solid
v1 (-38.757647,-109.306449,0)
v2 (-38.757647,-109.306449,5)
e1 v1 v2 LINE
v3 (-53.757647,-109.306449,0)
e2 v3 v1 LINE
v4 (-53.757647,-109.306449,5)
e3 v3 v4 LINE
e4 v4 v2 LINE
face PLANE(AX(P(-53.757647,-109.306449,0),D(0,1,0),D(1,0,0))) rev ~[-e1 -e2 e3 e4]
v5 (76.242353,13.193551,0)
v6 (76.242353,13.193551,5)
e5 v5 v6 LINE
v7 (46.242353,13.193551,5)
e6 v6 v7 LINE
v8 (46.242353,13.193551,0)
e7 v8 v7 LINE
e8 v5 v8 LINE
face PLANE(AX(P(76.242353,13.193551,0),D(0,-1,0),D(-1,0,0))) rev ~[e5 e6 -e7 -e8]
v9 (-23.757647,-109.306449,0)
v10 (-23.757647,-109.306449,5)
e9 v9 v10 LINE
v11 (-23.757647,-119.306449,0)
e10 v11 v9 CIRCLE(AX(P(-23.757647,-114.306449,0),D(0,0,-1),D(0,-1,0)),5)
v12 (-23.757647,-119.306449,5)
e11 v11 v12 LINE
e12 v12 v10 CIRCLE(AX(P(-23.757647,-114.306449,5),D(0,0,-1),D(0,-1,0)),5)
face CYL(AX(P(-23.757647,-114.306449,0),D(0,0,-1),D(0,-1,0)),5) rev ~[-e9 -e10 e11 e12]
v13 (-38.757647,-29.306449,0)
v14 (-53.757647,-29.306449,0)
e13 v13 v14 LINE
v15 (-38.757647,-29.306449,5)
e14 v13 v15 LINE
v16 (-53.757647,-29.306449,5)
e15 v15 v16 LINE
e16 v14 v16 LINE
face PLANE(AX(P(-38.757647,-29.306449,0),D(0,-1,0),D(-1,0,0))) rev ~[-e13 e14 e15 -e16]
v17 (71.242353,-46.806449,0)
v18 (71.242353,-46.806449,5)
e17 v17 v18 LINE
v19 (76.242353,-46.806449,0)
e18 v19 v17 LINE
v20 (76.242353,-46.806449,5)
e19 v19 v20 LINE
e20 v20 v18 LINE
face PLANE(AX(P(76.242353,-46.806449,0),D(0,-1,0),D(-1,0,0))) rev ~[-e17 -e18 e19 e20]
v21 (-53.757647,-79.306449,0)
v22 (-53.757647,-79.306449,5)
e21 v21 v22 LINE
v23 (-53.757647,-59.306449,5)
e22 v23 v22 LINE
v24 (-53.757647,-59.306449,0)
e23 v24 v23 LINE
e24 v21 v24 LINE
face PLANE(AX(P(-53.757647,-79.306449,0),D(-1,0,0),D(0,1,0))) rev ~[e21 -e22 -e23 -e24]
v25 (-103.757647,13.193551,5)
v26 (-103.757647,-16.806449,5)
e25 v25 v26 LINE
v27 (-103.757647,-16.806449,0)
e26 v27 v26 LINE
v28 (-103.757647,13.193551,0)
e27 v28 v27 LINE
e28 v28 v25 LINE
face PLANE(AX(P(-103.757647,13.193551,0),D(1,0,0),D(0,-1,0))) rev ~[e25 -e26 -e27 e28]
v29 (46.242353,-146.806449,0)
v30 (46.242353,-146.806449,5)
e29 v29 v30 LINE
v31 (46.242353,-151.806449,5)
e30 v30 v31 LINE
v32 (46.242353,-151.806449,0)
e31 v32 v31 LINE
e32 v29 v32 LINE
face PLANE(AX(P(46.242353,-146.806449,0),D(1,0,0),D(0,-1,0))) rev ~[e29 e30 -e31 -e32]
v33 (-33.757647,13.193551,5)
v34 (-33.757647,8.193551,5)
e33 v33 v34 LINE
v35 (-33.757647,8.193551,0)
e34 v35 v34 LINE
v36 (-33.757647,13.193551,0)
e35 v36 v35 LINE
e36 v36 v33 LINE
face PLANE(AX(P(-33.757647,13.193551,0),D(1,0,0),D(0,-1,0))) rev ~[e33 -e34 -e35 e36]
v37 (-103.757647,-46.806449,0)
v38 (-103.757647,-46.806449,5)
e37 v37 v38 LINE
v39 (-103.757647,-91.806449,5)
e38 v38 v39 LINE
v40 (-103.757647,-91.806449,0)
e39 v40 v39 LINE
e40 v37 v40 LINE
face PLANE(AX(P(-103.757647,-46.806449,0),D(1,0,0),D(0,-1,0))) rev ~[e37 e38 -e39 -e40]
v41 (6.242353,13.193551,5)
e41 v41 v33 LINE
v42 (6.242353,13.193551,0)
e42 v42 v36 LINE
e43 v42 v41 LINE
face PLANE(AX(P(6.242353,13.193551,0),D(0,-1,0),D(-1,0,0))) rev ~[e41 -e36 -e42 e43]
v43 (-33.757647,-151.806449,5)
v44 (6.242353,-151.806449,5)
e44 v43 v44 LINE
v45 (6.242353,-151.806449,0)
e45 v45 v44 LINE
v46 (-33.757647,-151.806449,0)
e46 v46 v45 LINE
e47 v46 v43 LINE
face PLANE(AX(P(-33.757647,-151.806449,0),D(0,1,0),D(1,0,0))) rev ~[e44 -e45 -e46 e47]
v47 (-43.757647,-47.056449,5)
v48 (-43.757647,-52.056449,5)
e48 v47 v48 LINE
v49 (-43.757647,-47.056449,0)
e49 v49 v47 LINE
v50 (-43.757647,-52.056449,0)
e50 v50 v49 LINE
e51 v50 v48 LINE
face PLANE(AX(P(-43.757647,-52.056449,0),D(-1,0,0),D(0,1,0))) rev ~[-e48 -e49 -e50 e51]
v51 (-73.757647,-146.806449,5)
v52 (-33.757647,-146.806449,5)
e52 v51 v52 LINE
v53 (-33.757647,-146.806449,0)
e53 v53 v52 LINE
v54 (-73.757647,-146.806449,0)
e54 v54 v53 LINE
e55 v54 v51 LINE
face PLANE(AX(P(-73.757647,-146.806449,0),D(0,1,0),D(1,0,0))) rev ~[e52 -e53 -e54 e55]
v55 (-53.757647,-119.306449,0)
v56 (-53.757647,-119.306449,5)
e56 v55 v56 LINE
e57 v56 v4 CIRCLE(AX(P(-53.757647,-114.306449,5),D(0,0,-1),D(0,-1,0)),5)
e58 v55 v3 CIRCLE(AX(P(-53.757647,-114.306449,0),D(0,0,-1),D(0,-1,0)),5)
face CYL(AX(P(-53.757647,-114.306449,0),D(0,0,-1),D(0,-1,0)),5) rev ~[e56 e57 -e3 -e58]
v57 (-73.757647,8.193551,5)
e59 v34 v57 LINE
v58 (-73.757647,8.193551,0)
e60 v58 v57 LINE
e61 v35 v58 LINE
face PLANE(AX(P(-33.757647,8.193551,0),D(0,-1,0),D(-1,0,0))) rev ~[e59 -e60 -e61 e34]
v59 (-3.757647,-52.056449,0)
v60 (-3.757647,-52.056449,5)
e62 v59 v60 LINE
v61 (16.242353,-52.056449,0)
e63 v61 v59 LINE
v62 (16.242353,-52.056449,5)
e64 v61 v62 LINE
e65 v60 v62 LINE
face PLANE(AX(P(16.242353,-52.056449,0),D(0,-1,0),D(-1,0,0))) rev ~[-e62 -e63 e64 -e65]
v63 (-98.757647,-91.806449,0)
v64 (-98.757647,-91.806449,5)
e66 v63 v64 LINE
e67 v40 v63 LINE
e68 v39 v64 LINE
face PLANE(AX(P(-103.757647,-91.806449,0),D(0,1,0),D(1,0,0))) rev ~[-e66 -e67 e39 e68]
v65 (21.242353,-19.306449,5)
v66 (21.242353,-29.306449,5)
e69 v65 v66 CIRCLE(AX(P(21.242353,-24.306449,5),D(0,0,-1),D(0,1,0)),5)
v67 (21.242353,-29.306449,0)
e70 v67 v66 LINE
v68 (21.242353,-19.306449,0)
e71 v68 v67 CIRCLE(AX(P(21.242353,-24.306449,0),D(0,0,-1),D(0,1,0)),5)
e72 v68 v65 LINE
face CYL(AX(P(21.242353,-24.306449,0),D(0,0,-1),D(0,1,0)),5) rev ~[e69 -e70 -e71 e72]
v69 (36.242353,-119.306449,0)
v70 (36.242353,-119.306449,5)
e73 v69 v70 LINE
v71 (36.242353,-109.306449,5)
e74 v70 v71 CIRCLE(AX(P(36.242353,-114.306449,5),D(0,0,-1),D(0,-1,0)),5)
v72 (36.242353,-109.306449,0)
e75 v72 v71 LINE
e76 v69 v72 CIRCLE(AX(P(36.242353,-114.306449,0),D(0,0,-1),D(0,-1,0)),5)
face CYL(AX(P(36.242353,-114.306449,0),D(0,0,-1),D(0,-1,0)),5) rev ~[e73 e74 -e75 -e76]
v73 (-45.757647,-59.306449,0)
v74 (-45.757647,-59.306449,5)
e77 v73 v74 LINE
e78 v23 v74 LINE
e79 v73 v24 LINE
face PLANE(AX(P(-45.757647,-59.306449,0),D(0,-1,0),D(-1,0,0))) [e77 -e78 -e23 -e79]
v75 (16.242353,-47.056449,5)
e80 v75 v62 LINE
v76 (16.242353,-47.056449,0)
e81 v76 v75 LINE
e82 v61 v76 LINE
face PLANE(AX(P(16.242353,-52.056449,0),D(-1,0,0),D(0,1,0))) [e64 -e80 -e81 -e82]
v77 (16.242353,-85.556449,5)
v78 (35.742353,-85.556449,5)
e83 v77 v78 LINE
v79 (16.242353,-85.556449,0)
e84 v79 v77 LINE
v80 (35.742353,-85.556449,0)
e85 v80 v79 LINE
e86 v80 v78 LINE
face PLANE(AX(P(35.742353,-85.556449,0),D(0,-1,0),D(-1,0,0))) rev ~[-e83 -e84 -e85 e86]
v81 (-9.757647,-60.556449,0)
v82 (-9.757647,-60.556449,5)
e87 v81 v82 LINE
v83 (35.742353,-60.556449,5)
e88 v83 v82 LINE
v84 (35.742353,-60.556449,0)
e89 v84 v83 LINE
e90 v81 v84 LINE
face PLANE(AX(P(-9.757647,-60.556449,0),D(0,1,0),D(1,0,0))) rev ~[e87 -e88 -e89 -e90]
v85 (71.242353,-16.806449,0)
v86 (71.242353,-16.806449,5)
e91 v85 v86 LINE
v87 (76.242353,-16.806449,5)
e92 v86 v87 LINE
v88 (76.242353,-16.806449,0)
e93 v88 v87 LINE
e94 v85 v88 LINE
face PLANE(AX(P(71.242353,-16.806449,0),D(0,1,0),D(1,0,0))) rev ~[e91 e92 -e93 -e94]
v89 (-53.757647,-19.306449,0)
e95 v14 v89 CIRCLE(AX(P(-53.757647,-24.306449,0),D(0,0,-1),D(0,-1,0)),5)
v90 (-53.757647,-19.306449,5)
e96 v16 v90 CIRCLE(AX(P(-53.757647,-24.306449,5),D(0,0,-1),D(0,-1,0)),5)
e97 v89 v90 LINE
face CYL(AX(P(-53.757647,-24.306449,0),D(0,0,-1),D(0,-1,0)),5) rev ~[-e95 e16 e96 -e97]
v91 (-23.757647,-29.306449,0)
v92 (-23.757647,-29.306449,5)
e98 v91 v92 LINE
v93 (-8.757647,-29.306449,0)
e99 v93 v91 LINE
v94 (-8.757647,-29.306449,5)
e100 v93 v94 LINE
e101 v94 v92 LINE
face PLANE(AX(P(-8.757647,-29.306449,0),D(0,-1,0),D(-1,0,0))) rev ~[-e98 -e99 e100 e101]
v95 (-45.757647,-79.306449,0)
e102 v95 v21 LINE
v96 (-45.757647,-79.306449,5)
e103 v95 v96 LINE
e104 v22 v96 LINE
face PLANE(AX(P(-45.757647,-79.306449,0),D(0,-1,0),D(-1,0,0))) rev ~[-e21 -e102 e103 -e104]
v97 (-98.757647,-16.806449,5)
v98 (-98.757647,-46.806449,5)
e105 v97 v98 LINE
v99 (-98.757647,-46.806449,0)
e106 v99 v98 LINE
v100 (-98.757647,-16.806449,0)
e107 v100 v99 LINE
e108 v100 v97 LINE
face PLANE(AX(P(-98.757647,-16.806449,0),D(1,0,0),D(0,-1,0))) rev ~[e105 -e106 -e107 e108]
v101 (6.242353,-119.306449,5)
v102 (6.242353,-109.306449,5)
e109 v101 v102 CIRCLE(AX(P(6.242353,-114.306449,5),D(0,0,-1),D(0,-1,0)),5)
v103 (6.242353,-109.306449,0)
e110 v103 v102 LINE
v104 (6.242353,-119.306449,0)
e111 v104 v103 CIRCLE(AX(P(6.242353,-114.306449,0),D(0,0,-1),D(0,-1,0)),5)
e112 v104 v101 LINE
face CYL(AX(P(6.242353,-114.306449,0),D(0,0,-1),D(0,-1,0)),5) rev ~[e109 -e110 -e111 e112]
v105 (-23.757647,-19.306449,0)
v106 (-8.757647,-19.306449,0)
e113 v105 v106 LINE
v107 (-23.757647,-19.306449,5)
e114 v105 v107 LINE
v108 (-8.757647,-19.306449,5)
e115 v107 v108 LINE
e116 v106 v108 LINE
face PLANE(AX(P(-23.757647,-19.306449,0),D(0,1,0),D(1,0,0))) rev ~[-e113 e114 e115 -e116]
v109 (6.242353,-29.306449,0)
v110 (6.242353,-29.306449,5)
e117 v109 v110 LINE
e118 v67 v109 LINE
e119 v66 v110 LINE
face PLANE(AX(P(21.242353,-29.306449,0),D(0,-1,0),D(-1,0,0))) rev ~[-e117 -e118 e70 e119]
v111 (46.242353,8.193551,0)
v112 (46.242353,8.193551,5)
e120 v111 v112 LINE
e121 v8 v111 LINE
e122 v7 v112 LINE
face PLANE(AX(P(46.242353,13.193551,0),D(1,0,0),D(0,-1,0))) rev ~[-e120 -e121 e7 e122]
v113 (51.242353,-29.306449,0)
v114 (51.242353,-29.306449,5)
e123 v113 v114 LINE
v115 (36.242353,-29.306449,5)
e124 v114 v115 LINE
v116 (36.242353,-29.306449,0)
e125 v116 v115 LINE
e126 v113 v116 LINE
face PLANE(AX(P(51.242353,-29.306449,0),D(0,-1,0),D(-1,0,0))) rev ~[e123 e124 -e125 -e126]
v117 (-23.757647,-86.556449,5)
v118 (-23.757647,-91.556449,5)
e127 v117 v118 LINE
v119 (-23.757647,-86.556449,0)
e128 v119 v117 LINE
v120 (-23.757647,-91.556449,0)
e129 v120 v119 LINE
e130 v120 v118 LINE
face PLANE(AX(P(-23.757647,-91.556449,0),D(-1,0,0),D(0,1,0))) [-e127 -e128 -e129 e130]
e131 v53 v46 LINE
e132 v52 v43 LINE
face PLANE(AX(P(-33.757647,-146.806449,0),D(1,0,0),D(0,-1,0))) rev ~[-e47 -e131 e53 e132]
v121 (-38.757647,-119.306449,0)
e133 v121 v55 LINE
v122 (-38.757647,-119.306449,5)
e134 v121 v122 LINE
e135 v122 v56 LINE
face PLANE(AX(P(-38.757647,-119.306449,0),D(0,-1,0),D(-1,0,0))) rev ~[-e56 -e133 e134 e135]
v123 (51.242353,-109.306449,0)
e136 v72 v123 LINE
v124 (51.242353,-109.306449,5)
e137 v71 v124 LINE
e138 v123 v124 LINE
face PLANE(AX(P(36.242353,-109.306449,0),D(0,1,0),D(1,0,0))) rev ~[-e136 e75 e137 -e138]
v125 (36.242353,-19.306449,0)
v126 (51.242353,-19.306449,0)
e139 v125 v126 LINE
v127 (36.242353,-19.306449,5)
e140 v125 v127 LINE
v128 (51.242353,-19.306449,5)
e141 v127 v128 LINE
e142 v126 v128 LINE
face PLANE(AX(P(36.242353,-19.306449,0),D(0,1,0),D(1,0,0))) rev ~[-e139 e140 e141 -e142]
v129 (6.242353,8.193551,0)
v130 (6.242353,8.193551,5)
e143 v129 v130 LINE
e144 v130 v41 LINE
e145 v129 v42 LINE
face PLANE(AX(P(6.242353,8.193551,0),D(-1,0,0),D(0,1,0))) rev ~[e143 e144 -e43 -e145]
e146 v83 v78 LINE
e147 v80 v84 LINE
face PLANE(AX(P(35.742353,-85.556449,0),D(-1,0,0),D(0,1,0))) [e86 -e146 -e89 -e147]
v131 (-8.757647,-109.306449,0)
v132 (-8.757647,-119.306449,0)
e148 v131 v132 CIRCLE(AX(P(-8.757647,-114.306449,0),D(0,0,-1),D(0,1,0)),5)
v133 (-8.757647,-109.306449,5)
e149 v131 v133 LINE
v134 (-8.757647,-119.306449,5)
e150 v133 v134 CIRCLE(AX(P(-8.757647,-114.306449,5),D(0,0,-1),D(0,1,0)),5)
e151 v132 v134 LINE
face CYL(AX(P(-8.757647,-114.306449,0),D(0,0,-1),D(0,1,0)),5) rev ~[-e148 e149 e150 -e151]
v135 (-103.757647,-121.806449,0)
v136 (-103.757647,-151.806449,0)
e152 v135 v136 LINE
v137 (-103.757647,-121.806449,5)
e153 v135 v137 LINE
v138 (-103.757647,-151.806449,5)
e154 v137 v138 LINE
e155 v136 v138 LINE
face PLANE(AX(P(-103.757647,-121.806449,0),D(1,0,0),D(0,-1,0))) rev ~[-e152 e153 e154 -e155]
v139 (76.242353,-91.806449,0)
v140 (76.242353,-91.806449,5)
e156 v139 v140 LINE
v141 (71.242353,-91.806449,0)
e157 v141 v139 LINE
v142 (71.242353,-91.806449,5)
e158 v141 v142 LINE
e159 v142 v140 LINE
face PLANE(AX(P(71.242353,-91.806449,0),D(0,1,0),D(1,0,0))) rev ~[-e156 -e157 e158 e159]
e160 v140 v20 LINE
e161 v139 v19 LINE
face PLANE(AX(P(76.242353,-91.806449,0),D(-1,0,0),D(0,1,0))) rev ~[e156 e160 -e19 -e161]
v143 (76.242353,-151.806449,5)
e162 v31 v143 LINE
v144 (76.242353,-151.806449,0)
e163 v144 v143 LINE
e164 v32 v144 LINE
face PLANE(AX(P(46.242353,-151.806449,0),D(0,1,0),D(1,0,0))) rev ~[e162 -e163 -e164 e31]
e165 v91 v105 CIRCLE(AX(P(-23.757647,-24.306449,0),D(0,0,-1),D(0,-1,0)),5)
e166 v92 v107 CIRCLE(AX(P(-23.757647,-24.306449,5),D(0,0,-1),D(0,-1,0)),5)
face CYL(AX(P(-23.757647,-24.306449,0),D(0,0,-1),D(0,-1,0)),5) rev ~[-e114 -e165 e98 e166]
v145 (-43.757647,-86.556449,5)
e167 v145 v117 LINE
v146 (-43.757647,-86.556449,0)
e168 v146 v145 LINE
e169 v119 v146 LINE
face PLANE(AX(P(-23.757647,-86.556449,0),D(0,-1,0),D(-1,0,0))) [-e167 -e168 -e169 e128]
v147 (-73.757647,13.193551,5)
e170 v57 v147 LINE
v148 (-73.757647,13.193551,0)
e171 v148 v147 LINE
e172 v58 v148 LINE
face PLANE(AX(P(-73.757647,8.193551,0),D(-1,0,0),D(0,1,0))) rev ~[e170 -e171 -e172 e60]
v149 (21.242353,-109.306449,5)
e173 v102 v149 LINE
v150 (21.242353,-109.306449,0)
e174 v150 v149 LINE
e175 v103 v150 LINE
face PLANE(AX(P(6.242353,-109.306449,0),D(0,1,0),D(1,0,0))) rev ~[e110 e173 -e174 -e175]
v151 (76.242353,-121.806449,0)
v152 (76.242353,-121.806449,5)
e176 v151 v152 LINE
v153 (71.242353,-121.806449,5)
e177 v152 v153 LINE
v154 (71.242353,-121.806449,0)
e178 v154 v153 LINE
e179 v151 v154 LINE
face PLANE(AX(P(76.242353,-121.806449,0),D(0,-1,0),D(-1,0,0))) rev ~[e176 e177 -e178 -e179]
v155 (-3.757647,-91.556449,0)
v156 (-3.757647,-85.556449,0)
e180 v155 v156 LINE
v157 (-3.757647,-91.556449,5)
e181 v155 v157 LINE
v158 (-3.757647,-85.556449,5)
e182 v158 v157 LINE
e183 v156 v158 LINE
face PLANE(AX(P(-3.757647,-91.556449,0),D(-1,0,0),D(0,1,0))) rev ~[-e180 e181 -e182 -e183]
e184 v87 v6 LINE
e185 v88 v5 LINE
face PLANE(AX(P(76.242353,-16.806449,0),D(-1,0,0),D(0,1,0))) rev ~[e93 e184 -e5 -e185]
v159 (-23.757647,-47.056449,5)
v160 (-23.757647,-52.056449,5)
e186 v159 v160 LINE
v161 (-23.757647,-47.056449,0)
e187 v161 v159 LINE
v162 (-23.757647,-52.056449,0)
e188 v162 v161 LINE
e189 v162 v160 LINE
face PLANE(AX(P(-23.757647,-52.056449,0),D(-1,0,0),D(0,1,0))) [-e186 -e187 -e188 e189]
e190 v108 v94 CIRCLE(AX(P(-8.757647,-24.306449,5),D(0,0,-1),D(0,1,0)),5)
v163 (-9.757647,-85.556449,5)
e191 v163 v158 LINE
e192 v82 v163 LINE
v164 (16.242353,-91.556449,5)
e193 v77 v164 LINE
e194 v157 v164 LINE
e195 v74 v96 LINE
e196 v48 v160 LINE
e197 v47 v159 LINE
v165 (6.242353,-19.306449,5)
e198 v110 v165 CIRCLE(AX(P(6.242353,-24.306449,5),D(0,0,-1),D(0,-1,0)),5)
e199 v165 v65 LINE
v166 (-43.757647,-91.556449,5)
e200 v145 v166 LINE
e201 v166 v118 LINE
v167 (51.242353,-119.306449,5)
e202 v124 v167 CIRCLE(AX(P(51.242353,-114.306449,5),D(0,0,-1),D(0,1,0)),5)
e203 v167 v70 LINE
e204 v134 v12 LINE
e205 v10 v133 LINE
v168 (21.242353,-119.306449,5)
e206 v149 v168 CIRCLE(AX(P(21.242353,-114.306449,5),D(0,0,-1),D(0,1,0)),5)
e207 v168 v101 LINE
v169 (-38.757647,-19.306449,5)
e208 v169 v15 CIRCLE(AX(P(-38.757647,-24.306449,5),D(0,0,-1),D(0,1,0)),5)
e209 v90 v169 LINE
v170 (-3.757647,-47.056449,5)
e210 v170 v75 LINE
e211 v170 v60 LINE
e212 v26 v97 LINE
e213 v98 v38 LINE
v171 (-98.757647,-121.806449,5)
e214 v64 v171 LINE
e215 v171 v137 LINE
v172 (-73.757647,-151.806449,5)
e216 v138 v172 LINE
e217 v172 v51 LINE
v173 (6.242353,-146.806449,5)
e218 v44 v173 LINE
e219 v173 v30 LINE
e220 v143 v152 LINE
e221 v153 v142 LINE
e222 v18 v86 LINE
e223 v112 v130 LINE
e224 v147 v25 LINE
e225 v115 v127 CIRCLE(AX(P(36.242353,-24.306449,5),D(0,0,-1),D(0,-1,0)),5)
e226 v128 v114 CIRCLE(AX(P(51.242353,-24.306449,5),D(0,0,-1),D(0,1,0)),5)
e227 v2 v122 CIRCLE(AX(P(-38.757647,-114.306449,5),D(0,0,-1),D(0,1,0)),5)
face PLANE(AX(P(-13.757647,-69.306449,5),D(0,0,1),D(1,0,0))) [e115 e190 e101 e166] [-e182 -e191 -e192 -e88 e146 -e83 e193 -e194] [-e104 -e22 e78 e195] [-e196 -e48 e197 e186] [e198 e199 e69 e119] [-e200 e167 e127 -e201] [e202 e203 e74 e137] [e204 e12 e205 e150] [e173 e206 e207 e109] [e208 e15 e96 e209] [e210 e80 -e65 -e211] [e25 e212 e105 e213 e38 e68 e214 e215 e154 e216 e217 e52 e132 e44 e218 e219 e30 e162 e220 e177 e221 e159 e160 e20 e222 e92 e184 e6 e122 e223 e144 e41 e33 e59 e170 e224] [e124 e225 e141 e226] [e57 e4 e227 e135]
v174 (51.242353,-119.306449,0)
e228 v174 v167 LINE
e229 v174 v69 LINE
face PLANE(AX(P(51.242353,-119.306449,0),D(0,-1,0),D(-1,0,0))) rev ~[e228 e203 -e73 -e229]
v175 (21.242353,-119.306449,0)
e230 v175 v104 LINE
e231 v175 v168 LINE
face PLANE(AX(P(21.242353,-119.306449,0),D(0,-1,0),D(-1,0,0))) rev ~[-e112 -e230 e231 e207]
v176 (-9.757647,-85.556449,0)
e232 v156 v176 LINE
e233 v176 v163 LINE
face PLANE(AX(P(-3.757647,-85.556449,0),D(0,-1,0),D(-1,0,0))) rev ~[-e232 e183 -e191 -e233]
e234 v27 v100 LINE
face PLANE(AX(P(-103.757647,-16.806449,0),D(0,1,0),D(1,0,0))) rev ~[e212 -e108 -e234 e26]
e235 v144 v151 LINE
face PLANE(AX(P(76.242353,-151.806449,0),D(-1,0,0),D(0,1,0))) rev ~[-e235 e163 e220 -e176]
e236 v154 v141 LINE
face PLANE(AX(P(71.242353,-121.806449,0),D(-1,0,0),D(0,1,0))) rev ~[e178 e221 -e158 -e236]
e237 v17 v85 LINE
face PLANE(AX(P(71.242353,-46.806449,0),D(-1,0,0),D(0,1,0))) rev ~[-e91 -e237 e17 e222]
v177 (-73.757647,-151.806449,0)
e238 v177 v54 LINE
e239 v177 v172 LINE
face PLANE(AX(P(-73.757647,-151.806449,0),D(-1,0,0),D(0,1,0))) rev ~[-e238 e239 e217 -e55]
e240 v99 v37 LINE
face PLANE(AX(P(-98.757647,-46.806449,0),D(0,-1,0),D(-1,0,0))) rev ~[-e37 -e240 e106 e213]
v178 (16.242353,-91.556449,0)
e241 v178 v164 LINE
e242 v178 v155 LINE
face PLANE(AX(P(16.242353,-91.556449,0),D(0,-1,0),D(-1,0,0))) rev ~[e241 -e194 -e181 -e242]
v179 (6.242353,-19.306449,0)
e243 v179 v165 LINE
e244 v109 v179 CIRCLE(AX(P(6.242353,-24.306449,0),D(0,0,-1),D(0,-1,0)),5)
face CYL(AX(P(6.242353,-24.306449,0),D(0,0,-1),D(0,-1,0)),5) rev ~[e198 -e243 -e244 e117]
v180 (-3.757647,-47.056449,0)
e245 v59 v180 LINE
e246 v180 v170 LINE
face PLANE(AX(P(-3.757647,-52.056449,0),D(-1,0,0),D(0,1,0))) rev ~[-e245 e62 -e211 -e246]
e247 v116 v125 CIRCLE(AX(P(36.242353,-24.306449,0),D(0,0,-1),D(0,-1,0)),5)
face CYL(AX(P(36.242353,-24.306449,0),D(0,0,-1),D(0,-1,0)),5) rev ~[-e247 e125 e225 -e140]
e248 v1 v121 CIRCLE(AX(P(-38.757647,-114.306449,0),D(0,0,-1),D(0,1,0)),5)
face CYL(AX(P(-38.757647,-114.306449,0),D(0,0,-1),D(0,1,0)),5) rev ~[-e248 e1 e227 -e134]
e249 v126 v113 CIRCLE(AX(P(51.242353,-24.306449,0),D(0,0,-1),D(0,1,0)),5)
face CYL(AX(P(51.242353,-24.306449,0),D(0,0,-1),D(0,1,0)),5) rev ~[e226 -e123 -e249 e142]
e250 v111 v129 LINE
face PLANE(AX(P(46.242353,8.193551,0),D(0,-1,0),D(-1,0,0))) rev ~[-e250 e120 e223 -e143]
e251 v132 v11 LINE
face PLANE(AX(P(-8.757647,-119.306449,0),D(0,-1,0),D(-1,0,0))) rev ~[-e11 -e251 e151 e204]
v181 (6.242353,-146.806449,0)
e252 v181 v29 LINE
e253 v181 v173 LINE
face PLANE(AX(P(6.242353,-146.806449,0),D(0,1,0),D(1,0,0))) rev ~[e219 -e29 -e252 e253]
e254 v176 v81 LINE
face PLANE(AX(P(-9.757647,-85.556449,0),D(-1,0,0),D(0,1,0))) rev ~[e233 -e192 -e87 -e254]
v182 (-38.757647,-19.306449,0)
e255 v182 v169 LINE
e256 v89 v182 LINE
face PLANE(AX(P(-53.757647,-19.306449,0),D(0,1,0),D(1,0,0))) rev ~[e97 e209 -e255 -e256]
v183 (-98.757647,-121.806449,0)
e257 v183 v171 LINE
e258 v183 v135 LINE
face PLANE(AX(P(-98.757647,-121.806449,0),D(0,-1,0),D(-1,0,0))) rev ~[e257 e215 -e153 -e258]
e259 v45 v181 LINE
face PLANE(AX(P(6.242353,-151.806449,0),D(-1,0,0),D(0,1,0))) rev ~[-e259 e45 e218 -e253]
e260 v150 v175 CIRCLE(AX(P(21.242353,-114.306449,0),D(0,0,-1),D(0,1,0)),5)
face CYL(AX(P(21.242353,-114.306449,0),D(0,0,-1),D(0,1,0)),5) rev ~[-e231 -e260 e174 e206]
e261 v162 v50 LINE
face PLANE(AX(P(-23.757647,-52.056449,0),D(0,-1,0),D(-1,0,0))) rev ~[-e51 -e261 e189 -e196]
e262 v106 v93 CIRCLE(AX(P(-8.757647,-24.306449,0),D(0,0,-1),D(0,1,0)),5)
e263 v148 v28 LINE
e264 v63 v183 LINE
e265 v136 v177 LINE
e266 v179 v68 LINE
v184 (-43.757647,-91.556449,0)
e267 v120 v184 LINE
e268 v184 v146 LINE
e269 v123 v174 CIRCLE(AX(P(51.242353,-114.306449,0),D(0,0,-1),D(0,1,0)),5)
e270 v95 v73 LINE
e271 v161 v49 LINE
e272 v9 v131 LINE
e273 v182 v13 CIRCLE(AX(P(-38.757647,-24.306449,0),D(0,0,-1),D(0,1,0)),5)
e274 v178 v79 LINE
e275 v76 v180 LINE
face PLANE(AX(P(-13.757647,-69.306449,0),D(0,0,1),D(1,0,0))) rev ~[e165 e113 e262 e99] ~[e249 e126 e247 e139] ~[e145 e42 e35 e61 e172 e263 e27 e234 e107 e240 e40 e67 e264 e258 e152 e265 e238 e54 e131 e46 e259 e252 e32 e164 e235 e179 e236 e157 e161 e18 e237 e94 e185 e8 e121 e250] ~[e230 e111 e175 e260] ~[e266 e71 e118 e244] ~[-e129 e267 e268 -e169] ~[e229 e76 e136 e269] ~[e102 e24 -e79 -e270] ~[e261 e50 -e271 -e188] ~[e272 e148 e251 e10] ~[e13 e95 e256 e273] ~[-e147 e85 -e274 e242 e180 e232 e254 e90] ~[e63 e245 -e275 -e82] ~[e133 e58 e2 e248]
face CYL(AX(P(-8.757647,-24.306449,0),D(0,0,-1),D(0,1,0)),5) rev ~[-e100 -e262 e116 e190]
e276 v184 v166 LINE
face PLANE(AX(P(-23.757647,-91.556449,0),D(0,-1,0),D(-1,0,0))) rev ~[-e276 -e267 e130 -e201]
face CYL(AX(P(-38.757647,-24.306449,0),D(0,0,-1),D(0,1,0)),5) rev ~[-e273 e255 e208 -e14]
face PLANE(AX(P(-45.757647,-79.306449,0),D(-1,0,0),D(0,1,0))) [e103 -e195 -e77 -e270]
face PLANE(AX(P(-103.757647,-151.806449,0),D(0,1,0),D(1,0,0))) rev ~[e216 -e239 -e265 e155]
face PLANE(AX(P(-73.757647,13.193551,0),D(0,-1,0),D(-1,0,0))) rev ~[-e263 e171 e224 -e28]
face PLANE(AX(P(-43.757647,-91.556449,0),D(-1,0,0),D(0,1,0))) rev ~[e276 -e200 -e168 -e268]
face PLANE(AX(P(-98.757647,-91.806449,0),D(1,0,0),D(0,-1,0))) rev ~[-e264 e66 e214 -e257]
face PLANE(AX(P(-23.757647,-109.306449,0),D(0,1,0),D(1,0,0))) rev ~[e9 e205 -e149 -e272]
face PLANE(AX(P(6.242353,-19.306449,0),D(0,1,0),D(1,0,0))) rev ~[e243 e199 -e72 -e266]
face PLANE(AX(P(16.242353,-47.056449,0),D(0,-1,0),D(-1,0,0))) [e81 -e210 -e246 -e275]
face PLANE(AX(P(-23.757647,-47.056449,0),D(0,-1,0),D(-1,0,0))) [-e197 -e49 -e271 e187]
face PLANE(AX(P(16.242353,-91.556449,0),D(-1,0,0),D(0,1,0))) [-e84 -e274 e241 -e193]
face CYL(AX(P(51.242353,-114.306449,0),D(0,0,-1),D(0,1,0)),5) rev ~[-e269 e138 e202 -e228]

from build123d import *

# Parameters (mm, degrees)
BOSS_EXTRUDE1_DEPTH = 5
SKETCH2_W           = 20
SKETCH2_H           = 5
SKETCH2_H_2         = 6
SKETCH2_W_2         = 8
SKETCH2_H_3         = 20
SKETCH2_W_3         = 11.5
SKETCH2_H_4         = 25
SKETCH2_W_4         = 3
CUT_EXTRUDE1_DEPTH  = 10


with BuildPart() as part:
    # Sketch1 → Boss-Extrude1 (new body)
    with BuildSketch(Plane.XY):
        Polygon((6.242353031, 8.193551366), (6.242353031, 13.193551366), (-33.757646969, 13.193551366), (-33.757646969, 8.193551366), (-73.757646969, 8.193551366), (-73.757646969, 13.193551366), (-103.757646969, 13.193551366), (-103.757646969, -16.806448634), (-98.757646969, -16.806448634), (-98.757646969, -46.806448634), (-103.757646969, -46.806448634), (-103.757646969, -91.806448634), (-98.757646969, -91.806448634), (-98.757646969, -121.806448634), (-103.757646969, -121.806448634), (-103.757646969, -151.806448634), (-73.757646969, -151.806448634), (-73.757646969, -146.806448634), (-33.757646969, -146.806448634), (-33.757646969, -151.806448634), (6.242353031, -151.806448634), (6.242353031, -146.806448634), (46.242353031, -146.806448634), (46.242353031, -151.806448634), (76.242353031, -151.806448634), (76.242353031, -121.806448634), (71.242353031, -121.806448634), (71.242353031, -91.806448634), (76.242353031, -91.806448634), (76.242353031, -46.806448634), (71.242353031, -46.806448634), (71.242353031, -16.806448634), (76.242353031, -16.806448634), (76.242353031, 13.193551366), (46.242353031, 13.193551366), (46.242353031, 8.193551366), align=None)
        with BuildLine():
            ThreePointArc((21.242353031, -19.306448634), (26.242353031, -24.306448634), (21.242353031, -29.306448634))
            Line((21.242353031, -29.306448634), (6.242353031, -29.306448634))
            ThreePointArc((6.242353031, -29.306448634), (1.242353031, -24.306448634), (6.242353031, -19.306448634))
            Line((6.242353031, -19.306448634), (21.242353031, -19.306448634))
        make_face(mode=Mode.SUBTRACT)
        with BuildLine():
            Line((21.242353031, -119.306448634), (6.242353031, -119.306448634))
            ThreePointArc((6.242353031, -119.306448634), (1.242353031, -114.306448634), (6.242353031, -109.306448634))
            Line((6.242353031, -109.306448634), (21.242353031, -109.306448634))
            ThreePointArc((21.242353031, -109.306448634), (26.242353031, -114.306448634), (21.242353031, -119.306448634))
        make_face(mode=Mode.SUBTRACT)
        with BuildLine():
            Line((36.242353031, -19.306448634), (51.242353031, -19.306448634))
            ThreePointArc((51.242353031, -19.306448634), (56.242353031, -24.306448634), (51.242353031, -29.306448634))
            Line((51.242353031, -29.306448634), (36.242353031, -29.306448634))
            ThreePointArc((36.242353031, -29.306448634), (31.242353031, -24.306448634), (36.242353031, -19.306448634))
        make_face(mode=Mode.SUBTRACT)
        with BuildLine():
            ThreePointArc((51.242353031, -109.306448634), (56.242353031, -114.306448634), (51.242353031, -119.306448634))
            Line((51.242353031, -119.306448634), (36.242353031, -119.306448634))
            ThreePointArc((36.242353031, -119.306448634), (31.242353031, -114.306448634), (36.242353031, -109.306448634))
            Line((36.242353031, -109.306448634), (51.242353031, -109.306448634))
        make_face(mode=Mode.SUBTRACT)
        with BuildLine():
            Line((-53.757646969, -109.306448634), (-38.757646969, -109.306448634))
            ThreePointArc((-38.757646969, -109.306448634), (-33.757646969, -114.306448634), (-38.757646969, -119.306448634))
            Line((-38.757646969, -119.306448634), (-53.757646969, -119.306448634))
            ThreePointArc((-53.757646969, -119.306448634), (-58.757646969, -114.306448634), (-53.757646969, -109.306448634))
        make_face(mode=Mode.SUBTRACT)
        with BuildLine():
            Line((-8.757646969, -119.306448634), (-23.757646969, -119.306448634))
            ThreePointArc((-23.757646969, -119.306448634), (-28.757646969, -114.306448634), (-23.757646969, -109.306448634))
            Line((-23.757646969, -109.306448634), (-8.757646969, -109.306448634))
            ThreePointArc((-8.757646969, -109.306448634), (-3.757646969, -114.306448634), (-8.757646969, -119.306448634))
        make_face(mode=Mode.SUBTRACT)
        with BuildLine():
            Line((-53.757646969, -19.306448634), (-38.757646969, -19.306448634))
            ThreePointArc((-38.757646969, -19.306448634), (-33.757646969, -24.306448634), (-38.757646969, -29.306448634))
            Line((-38.757646969, -29.306448634), (-53.757646969, -29.306448634))
            ThreePointArc((-53.757646969, -29.306448634), (-58.757646969, -24.306448634), (-53.757646969, -19.306448634))
        make_face(mode=Mode.SUBTRACT)
        with BuildLine():
            Line((-8.757646969, -29.306448634), (-23.757646969, -29.306448634))
            ThreePointArc((-23.757646969, -29.306448634), (-28.757646969, -24.306448634), (-23.757646969, -19.306448634))
            Line((-23.757646969, -19.306448634), (-8.757646969, -19.306448634))
            ThreePointArc((-8.757646969, -19.306448634), (-3.757646969, -24.306448634), (-8.757646969, -29.306448634))
        make_face(mode=Mode.SUBTRACT)
    extrude(amount=BOSS_EXTRUDE1_DEPTH)

    # Sketch2 → Cut-Extrude1 (cut)
    with BuildSketch(Plane(origin=(0, 0, 0), x_dir=(-1, 0, 0), z_dir=(0, 0, -1))):
        with Locations((-6.242353031, -49.556448634)):
            Rectangle(SKETCH2_W, SKETCH2_H)
        with Locations((33.757646969, -49.556448634)):
            Rectangle(SKETCH2_W, SKETCH2_H)
        with Locations((33.757646969, -89.056448634)):
            Rectangle(SKETCH2_W, SKETCH2_H)
        Polygon((-16.242353031, -85.556448634), (3.757646969, -85.556448634), (9.757646969, -85.556448634), (9.757646969, -60.556448634), (-21.242353031, -60.556448634), (-21.242353031, -85.556448634), align=None)
        with Locations((-6.242353031, -88.556448634)):
            Rectangle(SKETCH2_W, SKETCH2_H_2)
        with Locations((49.757646969, -69.306448634)):
            Rectangle(SKETCH2_W_2, SKETCH2_H_3)
        with Locations((-29.992353031, -73.056448634)):
            Rectangle(SKETCH2_W_3, SKETCH2_H_4)
        with Locations((-22.742353031, -73.056448634)):
            Rectangle(SKETCH2_W_4, SKETCH2_H_4)
    extrude(amount=-CUT_EXTRUDE1_DEPTH, mode=Mode.SUBTRACT)


solid = part.part
